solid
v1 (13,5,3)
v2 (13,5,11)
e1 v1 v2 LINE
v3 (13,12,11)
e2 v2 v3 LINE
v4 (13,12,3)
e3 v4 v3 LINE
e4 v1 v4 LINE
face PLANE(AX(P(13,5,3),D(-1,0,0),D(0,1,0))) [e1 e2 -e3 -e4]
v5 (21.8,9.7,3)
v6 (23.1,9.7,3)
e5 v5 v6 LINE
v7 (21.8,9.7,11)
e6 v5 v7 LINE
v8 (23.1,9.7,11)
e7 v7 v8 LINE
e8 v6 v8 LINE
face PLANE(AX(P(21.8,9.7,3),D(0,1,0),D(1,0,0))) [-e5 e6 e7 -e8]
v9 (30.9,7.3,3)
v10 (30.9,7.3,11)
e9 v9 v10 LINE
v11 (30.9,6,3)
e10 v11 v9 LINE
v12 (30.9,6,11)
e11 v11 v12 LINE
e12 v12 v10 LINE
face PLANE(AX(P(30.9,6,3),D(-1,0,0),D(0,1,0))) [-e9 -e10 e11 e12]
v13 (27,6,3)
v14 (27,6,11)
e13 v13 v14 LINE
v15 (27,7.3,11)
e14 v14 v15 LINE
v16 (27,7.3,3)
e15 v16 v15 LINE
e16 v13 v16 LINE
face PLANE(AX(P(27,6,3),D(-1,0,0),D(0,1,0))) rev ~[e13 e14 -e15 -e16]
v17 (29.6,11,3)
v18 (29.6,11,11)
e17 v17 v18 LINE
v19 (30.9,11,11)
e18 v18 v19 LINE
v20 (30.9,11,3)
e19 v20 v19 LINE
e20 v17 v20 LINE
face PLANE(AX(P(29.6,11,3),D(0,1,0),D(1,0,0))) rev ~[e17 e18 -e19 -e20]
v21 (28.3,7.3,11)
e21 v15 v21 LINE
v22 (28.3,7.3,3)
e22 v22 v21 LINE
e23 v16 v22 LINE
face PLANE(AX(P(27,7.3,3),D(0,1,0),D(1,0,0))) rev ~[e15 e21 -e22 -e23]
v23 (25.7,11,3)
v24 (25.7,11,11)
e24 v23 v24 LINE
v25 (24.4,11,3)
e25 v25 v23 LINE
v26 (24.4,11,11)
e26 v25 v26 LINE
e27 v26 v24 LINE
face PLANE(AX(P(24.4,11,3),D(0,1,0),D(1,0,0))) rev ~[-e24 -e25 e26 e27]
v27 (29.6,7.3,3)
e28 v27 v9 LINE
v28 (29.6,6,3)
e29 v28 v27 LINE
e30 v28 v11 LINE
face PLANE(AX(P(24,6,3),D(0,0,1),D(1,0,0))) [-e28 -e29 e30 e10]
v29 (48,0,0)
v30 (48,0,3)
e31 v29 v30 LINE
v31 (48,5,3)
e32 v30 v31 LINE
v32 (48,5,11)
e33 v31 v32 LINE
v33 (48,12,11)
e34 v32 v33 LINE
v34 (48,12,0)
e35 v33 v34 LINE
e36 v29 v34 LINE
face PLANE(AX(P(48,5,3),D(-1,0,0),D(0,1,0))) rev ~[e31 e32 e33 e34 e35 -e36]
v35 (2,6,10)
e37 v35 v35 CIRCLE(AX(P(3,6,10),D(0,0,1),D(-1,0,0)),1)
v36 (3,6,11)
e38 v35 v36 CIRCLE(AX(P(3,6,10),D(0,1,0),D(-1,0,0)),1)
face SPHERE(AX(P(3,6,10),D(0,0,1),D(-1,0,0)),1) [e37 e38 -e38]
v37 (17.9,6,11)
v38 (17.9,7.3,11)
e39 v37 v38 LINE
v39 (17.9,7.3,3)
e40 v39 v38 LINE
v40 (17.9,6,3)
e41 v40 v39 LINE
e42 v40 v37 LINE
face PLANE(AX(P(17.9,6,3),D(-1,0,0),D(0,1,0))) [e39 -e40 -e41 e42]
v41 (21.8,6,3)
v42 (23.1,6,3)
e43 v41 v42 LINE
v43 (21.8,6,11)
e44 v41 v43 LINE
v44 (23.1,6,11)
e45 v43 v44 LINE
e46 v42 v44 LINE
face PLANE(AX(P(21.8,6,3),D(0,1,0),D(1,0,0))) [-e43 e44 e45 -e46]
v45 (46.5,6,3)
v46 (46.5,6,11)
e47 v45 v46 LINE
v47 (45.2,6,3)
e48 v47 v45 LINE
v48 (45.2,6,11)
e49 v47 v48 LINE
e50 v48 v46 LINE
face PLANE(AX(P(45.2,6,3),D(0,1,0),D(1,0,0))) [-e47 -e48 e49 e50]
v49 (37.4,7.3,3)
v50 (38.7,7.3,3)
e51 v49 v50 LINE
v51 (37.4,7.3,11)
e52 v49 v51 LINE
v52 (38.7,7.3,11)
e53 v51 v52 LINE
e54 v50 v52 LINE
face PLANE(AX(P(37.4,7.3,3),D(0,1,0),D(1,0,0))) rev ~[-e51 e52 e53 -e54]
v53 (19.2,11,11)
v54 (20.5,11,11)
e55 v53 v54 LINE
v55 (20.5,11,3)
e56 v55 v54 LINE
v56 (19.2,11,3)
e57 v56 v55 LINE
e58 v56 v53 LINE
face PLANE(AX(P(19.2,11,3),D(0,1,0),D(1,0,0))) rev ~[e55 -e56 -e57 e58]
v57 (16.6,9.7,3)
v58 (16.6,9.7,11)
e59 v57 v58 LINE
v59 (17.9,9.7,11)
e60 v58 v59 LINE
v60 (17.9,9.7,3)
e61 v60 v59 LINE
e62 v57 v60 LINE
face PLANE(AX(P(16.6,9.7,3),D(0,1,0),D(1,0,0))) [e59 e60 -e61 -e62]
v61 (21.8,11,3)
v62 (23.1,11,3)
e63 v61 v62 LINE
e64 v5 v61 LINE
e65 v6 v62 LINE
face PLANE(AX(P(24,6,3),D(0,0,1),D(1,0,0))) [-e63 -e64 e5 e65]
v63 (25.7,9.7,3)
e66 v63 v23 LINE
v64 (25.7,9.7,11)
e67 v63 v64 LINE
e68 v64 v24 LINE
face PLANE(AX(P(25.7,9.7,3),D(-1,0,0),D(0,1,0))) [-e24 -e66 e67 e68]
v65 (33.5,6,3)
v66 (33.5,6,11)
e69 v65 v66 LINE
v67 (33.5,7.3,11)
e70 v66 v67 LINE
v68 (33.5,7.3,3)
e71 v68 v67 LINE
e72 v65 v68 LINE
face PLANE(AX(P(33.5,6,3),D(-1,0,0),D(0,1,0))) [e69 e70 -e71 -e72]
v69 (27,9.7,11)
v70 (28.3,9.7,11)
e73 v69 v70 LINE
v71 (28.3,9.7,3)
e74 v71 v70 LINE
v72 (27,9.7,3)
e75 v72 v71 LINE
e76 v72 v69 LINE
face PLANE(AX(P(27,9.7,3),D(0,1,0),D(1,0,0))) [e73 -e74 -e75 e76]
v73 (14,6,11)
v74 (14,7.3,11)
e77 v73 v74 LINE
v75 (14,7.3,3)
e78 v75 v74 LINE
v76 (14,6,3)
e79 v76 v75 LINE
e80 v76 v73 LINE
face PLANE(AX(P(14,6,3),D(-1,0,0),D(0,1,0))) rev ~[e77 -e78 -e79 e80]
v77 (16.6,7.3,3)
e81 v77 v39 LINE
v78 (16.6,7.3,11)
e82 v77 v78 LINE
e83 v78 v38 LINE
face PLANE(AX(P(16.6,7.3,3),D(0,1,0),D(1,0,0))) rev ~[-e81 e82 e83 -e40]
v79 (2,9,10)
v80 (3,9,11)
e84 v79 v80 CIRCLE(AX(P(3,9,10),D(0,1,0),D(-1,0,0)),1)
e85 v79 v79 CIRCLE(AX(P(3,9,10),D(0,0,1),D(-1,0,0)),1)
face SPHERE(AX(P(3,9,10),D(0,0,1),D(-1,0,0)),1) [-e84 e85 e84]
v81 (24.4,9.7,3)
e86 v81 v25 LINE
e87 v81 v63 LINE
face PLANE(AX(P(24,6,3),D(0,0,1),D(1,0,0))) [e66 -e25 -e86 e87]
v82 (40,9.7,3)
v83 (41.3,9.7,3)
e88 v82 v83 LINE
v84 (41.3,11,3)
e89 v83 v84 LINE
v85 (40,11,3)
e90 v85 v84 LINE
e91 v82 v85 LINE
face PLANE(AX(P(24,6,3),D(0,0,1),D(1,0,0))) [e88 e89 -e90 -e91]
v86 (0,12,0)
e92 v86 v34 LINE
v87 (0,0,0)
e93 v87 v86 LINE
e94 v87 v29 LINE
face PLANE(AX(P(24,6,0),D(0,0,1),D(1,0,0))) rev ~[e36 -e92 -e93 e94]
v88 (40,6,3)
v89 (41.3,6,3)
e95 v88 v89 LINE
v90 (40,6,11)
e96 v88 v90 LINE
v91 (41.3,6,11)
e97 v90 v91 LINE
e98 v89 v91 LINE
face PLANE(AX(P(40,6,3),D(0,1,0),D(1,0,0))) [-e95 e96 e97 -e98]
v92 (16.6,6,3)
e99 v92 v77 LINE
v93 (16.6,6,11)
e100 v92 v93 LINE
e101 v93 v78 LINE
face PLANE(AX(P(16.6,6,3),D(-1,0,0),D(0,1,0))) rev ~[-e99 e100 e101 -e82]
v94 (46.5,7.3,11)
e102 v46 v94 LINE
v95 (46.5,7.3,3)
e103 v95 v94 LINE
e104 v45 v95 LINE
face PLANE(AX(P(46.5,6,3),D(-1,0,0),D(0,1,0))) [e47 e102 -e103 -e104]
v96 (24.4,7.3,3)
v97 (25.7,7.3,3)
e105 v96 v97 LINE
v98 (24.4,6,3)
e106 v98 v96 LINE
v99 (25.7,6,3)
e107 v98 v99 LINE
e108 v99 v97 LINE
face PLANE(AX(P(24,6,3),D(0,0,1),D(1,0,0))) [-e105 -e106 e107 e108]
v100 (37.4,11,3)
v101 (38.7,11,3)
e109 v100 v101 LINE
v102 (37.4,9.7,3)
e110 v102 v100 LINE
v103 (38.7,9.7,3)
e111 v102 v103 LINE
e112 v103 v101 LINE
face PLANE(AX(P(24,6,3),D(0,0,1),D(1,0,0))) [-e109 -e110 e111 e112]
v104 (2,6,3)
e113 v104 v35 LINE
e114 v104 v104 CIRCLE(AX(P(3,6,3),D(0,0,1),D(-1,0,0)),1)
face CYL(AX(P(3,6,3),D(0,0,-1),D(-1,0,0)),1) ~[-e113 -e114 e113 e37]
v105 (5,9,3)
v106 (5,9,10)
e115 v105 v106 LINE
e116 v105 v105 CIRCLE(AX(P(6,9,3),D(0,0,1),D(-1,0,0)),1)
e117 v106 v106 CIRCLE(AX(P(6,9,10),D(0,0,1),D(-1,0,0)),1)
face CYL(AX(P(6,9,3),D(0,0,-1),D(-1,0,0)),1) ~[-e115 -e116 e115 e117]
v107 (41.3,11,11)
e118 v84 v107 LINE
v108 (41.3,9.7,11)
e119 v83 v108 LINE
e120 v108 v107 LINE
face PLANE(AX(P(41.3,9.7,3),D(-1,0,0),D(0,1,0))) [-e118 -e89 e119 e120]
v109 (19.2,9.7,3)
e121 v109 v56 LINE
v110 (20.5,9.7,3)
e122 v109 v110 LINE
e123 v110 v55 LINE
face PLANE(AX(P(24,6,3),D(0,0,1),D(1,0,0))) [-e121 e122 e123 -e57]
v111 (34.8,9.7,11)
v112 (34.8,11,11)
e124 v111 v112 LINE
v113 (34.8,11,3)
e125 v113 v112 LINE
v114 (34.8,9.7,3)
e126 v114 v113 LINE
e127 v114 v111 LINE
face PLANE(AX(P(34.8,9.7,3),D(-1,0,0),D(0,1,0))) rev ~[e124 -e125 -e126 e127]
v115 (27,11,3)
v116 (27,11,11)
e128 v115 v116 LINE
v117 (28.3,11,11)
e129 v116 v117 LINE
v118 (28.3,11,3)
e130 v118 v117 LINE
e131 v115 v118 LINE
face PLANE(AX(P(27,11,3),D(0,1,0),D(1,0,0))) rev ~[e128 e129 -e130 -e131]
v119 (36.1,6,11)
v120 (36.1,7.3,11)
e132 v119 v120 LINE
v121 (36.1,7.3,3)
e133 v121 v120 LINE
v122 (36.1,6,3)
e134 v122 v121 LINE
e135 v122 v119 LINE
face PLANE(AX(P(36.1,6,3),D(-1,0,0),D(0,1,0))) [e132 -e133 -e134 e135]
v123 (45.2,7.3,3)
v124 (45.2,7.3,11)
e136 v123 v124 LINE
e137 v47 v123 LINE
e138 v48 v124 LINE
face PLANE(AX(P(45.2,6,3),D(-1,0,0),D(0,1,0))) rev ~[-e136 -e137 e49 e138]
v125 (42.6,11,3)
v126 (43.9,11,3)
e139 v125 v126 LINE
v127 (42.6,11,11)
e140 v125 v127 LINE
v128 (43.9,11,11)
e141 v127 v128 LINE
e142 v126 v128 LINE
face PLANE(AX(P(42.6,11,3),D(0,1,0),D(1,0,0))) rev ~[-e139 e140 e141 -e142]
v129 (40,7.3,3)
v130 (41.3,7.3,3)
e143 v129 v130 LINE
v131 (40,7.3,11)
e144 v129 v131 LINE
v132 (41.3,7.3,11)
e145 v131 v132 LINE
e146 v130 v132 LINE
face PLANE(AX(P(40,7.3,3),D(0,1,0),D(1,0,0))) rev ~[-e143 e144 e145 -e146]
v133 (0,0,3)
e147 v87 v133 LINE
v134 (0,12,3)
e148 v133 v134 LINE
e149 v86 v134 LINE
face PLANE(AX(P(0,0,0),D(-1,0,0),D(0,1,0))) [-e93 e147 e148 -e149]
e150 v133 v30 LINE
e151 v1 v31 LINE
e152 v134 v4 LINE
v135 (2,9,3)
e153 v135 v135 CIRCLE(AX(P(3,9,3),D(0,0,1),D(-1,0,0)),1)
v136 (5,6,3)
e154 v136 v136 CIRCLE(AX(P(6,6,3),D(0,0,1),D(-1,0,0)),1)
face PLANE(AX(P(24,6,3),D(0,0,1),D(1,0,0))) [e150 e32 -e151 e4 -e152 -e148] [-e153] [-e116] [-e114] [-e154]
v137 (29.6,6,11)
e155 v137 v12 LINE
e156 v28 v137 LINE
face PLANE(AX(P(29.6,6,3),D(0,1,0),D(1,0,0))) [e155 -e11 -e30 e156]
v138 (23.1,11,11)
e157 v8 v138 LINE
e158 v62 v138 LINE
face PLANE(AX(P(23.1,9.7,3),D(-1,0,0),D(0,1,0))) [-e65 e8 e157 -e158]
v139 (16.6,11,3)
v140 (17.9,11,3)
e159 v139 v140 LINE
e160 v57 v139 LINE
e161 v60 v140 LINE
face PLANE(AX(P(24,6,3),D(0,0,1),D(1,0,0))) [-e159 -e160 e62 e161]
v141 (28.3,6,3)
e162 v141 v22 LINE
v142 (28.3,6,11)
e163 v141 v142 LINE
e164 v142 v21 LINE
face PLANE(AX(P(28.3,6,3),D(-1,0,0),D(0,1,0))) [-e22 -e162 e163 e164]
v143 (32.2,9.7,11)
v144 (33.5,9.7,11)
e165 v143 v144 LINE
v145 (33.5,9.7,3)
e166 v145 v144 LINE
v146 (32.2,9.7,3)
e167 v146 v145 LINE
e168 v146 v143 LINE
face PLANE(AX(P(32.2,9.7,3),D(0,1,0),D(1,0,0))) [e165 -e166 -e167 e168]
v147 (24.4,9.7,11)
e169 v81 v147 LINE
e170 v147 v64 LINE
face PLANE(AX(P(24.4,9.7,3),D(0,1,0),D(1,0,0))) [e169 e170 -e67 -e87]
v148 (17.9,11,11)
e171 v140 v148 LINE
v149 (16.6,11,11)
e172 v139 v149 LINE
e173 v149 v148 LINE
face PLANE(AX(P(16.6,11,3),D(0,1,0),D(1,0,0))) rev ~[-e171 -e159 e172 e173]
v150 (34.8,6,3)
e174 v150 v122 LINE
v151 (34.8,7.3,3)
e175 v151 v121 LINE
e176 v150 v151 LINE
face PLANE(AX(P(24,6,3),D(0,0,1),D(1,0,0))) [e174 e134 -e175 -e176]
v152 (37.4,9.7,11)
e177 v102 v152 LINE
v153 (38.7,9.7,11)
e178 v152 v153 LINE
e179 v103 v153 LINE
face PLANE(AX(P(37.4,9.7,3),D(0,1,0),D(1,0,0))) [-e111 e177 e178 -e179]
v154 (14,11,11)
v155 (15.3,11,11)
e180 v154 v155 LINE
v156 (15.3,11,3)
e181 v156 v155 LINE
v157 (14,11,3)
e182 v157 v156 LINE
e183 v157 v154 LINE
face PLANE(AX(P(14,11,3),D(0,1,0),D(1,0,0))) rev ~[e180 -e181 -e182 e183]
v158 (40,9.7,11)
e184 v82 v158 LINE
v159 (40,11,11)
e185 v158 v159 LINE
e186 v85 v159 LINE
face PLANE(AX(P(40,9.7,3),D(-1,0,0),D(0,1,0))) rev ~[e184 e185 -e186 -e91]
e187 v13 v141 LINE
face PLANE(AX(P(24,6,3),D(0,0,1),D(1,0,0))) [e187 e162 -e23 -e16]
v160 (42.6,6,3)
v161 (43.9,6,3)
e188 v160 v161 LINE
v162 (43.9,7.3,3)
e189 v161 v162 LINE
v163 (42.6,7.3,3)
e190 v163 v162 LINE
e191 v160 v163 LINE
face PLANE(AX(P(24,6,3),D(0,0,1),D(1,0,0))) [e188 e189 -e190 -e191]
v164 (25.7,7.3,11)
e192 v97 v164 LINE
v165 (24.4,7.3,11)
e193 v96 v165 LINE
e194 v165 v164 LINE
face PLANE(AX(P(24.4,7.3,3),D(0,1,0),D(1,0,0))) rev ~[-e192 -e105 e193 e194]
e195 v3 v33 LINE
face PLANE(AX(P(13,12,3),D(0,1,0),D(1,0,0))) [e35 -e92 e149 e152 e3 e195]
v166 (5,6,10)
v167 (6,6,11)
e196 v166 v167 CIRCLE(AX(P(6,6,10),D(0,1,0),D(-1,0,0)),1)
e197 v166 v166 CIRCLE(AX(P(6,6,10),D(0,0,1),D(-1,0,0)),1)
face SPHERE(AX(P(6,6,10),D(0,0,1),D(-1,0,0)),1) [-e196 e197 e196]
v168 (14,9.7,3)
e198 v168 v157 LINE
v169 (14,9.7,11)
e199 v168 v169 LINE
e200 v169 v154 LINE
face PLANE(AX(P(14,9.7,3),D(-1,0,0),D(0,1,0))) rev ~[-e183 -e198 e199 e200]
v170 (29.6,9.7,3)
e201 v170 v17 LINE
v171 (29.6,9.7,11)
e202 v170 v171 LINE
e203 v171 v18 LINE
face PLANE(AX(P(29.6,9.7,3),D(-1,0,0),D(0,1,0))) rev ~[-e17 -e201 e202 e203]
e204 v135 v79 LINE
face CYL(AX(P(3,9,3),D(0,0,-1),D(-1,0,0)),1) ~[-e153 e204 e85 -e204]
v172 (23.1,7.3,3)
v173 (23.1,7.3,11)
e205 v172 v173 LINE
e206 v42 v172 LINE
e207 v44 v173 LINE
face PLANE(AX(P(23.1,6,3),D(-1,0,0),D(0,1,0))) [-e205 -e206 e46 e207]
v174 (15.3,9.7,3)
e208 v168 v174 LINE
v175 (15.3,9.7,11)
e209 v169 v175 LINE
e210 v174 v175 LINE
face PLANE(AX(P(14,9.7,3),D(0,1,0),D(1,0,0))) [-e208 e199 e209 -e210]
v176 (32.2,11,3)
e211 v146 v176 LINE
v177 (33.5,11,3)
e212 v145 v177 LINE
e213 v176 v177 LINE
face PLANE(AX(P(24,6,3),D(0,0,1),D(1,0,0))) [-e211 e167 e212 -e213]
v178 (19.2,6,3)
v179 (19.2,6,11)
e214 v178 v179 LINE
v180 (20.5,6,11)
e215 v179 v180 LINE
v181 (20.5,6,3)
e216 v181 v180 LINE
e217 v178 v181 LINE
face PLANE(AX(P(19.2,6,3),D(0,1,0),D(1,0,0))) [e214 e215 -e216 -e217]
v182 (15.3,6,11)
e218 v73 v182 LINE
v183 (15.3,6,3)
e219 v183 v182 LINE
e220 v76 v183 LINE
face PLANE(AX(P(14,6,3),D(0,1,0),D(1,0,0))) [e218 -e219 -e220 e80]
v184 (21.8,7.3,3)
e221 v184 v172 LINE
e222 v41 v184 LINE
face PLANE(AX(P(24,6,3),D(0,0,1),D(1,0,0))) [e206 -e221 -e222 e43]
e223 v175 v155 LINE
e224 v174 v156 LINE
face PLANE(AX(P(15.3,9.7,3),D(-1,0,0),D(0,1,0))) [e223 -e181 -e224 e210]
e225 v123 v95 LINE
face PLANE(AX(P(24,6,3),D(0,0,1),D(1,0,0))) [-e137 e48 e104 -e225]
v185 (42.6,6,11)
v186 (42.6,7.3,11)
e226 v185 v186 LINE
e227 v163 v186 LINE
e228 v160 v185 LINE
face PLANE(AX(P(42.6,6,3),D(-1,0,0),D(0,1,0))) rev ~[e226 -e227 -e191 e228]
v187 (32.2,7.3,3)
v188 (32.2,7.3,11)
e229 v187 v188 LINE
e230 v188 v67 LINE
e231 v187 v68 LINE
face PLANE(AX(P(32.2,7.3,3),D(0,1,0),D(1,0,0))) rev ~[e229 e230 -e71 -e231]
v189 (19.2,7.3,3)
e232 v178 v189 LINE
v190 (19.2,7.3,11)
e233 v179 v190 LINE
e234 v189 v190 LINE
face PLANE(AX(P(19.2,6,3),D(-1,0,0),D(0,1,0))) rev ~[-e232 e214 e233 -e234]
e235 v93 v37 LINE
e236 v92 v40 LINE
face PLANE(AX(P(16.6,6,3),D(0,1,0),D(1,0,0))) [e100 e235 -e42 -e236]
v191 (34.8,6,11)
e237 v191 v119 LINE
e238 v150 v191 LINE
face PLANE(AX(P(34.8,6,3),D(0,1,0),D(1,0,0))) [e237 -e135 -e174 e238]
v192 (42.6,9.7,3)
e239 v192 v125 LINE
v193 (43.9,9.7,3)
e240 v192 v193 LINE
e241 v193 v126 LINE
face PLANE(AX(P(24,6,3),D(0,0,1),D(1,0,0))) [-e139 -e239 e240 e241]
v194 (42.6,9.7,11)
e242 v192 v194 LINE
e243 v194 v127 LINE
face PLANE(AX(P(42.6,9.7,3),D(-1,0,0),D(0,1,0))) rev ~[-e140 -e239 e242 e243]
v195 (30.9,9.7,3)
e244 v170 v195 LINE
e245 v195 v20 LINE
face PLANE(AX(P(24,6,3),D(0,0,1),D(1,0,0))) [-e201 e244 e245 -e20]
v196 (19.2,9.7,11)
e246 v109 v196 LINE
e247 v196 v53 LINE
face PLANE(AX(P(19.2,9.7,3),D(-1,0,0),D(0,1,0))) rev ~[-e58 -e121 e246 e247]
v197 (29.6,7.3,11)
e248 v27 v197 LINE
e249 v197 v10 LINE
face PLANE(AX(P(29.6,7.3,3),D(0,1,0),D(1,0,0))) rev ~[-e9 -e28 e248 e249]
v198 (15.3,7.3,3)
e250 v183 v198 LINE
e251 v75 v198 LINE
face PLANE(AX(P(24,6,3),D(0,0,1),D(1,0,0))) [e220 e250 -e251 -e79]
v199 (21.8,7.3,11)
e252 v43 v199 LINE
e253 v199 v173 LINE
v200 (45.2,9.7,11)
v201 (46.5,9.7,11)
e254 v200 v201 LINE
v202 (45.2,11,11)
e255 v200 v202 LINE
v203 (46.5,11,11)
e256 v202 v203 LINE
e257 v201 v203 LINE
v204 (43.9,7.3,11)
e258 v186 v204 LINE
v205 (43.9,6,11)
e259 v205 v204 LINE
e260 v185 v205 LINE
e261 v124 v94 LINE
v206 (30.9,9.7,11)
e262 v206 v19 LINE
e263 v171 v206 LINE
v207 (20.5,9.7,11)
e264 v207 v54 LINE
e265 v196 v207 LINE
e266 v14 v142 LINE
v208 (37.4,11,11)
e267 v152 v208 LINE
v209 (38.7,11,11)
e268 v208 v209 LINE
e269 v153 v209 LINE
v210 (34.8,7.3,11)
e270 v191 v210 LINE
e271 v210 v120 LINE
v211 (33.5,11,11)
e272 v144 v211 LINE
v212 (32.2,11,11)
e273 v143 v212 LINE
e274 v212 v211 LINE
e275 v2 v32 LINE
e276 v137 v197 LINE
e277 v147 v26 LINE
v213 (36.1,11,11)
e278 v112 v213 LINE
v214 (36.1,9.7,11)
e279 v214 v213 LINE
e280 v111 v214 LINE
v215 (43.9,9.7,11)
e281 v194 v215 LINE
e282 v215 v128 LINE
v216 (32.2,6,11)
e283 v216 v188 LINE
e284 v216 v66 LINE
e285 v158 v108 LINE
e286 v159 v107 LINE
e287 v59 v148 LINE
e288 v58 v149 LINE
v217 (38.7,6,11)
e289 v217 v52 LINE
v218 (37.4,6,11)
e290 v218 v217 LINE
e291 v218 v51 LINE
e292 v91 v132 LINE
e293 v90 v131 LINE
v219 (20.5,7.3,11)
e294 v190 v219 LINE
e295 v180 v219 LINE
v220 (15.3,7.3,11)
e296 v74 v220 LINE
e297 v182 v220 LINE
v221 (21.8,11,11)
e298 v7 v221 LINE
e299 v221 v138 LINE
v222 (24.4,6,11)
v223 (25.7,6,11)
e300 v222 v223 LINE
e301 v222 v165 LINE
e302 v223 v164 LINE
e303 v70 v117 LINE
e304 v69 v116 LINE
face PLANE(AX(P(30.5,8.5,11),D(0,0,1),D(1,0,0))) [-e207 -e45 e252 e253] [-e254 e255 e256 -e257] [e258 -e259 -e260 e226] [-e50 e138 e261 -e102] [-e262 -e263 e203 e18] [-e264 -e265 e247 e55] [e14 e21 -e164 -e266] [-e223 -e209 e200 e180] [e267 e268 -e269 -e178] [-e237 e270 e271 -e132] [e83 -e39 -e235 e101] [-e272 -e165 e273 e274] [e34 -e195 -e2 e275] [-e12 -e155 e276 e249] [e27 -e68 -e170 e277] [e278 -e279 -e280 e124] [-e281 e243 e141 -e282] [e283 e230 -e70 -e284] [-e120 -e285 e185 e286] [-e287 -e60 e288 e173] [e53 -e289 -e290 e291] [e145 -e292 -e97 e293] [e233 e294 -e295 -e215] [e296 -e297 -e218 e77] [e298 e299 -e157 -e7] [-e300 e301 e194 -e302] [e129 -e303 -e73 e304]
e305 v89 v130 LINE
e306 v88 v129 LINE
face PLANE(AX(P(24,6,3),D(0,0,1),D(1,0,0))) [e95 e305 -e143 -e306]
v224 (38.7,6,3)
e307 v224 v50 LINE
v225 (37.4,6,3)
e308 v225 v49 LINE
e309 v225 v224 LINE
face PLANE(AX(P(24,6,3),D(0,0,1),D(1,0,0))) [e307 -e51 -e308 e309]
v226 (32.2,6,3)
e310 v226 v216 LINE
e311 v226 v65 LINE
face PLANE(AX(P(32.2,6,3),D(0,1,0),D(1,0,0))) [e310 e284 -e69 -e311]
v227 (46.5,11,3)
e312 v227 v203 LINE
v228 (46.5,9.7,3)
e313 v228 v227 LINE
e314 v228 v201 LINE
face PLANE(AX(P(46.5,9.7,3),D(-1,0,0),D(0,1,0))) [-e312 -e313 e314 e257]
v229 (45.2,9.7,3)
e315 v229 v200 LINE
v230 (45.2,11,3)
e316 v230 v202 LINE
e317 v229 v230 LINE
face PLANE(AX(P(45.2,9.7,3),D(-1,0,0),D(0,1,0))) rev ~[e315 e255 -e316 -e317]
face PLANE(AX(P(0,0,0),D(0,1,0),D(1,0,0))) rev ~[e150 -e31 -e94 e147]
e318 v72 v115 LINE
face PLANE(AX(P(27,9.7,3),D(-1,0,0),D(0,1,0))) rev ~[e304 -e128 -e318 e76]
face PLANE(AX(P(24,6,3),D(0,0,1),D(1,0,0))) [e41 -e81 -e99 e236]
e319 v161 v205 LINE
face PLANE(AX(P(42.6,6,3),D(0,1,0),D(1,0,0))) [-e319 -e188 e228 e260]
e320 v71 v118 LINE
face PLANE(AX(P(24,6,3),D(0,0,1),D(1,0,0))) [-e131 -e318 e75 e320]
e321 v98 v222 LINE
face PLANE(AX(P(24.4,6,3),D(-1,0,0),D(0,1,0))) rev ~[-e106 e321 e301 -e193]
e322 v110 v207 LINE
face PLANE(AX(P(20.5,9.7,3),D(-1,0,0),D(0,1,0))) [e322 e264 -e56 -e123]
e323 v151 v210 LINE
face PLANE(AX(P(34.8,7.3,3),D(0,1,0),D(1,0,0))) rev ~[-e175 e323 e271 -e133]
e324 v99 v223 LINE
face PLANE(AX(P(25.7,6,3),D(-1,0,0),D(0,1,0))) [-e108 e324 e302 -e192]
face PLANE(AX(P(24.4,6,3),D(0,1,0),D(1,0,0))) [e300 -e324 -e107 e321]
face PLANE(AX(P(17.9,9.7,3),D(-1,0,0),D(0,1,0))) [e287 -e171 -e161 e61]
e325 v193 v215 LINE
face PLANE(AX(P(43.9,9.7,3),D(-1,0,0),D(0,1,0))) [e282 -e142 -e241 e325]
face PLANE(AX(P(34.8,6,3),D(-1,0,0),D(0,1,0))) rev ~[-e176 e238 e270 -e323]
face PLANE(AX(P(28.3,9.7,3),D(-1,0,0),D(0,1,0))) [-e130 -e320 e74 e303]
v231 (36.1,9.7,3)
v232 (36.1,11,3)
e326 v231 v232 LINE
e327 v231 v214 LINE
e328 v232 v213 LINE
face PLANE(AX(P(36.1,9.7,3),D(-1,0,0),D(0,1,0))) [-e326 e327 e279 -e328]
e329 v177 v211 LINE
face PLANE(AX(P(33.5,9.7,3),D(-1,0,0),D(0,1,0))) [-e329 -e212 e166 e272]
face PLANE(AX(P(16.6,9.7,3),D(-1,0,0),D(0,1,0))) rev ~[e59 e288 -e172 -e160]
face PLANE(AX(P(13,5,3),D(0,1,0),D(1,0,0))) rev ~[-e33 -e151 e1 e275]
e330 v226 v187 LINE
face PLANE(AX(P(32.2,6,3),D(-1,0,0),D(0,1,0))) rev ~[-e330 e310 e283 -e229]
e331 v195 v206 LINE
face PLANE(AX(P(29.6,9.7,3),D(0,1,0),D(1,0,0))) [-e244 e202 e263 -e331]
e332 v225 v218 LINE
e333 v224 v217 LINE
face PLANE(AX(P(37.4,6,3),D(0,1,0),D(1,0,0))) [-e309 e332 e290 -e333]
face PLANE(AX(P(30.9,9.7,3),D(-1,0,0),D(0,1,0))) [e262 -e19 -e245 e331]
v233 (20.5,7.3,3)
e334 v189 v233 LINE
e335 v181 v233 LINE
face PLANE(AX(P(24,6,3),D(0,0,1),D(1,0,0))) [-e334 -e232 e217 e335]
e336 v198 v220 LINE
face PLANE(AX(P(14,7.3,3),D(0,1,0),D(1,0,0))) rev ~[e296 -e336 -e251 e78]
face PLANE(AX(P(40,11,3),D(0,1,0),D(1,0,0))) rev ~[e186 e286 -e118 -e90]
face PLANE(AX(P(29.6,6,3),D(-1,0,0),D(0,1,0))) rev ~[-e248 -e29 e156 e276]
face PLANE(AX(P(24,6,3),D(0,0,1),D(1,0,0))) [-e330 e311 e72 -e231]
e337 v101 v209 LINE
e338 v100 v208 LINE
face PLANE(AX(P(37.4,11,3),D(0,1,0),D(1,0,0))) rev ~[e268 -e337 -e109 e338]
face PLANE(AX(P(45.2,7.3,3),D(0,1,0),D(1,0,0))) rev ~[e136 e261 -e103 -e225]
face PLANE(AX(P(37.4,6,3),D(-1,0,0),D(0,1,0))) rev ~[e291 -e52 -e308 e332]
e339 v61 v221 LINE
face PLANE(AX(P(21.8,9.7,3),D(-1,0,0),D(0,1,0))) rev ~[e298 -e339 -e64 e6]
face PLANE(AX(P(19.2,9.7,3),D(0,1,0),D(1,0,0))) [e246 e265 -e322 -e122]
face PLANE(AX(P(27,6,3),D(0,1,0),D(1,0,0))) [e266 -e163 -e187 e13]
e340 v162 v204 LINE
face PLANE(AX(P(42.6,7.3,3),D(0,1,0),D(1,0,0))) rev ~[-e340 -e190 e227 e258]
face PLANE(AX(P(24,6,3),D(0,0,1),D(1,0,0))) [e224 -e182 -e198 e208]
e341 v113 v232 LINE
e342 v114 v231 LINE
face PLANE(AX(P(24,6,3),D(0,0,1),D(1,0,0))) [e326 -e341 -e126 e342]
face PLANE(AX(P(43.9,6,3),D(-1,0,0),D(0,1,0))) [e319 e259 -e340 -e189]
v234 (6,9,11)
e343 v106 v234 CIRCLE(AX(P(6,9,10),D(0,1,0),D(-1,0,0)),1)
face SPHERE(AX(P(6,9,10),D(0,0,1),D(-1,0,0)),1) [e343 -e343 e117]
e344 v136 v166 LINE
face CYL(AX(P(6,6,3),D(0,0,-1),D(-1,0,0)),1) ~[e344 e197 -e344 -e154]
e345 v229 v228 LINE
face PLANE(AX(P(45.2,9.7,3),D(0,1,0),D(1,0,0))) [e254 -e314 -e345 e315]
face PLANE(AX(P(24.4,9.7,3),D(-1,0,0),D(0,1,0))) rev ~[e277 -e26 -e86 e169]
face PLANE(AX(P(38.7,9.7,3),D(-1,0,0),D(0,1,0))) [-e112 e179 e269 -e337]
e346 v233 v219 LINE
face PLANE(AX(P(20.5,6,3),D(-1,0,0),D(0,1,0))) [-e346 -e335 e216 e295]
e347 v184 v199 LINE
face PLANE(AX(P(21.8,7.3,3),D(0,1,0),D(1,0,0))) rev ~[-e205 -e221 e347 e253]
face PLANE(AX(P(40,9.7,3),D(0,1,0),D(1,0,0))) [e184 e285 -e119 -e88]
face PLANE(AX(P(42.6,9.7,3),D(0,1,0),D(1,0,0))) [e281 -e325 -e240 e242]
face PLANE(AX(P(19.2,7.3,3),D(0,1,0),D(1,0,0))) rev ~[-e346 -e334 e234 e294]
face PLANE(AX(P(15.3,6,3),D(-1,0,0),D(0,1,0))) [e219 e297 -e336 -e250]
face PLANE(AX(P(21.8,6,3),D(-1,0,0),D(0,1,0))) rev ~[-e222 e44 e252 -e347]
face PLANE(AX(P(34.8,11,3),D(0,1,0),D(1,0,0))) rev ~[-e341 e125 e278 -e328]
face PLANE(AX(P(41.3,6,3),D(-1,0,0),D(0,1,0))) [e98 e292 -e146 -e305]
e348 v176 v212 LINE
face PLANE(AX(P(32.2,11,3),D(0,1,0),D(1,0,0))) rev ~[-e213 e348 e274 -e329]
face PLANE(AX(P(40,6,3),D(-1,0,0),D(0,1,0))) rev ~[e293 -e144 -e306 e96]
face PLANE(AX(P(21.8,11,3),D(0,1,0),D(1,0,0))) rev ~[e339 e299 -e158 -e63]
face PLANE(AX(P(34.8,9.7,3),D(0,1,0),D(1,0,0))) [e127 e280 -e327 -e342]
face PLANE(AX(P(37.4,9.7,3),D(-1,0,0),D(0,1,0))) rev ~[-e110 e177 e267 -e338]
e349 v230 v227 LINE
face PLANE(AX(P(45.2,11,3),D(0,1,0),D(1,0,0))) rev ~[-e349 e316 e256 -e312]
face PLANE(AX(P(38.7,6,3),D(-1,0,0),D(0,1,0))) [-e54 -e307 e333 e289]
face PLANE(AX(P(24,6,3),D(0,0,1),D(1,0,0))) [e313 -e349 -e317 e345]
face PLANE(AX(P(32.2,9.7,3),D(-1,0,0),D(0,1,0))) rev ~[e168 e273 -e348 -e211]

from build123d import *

# Parameters (mm, degrees)
SKETCH1_W           = 48
SKETCH1_H           = 12
BOSS_EXTRUDE1_DEPTH = 3
SKETCH2_W           = 35
SKETCH2_H           = 7
SKETCH2_W_2         = 1.3
SKETCH2_H_2         = 1.3
BOSS_EXTRUDE2_DEPTH = 8
SKETCH3_R           = 1
BOSS_EXTRUDE3_DEPTH = 8
FILLET1_R           = 1


with BuildPart() as part:
    # Sketch1 → Boss-Extrude1 (new body)
    with BuildSketch(Plane.XY):
        with Locations((24, 6)):
            Rectangle(SKETCH1_W, SKETCH1_H)
    extrude(amount=BOSS_EXTRUDE1_DEPTH)

    # Sketch2 → Boss-Extrude2 (add)
    with BuildSketch(Plane.XY.offset(3)):
        with Locations((30.5, 8.5)):
            Rectangle(SKETCH2_W, SKETCH2_H)
        with Locations((17.25, 10.35)):
            Rectangle(SKETCH2_W_2, SKETCH2_H_2, mode=Mode.SUBTRACT)
        with Locations((14.65, 10.35)):
            Rectangle(SKETCH2_W_2, SKETCH2_H_2, mode=Mode.SUBTRACT)
        with Locations((14.65, 6.65)):
            Rectangle(SKETCH2_W_2, SKETCH2_H_2, mode=Mode.SUBTRACT)
        with Locations((17.25, 6.65)):
            Rectangle(SKETCH2_W_2, SKETCH2_H_2, mode=Mode.SUBTRACT)
        with Locations((19.85, 10.35)):
            Rectangle(SKETCH2_W_2, SKETCH2_H_2, mode=Mode.SUBTRACT)
        with Locations((19.85, 6.65)):
            Rectangle(SKETCH2_W_2, SKETCH2_H_2, mode=Mode.SUBTRACT)
        with Locations((22.45, 10.35)):
            Rectangle(SKETCH2_W_2, SKETCH2_H_2, mode=Mode.SUBTRACT)
        with Locations((22.45, 6.65)):
            Rectangle(SKETCH2_W_2, SKETCH2_H_2, mode=Mode.SUBTRACT)
        with Locations((25.05, 10.35)):
            Rectangle(SKETCH2_W_2, SKETCH2_H_2, mode=Mode.SUBTRACT)
        with Locations((25.05, 6.65)):
            Rectangle(SKETCH2_W_2, SKETCH2_H_2, mode=Mode.SUBTRACT)
        with Locations((27.65, 10.35)):
            Rectangle(SKETCH2_W_2, SKETCH2_H_2, mode=Mode.SUBTRACT)
        with Locations((27.65, 6.65)):
            Rectangle(SKETCH2_W_2, SKETCH2_H_2, mode=Mode.SUBTRACT)
        with Locations((30.25, 10.35)):
            Rectangle(SKETCH2_W_2, SKETCH2_H_2, mode=Mode.SUBTRACT)
        with Locations((30.25, 6.65)):
            Rectangle(SKETCH2_W_2, SKETCH2_H_2, mode=Mode.SUBTRACT)
        with Locations((32.85, 10.35)):
            Rectangle(SKETCH2_W_2, SKETCH2_H_2, mode=Mode.SUBTRACT)
        with Locations((32.85, 6.65)):
            Rectangle(SKETCH2_W_2, SKETCH2_H_2, mode=Mode.SUBTRACT)
        with Locations((35.45, 10.35)):
            Rectangle(SKETCH2_W_2, SKETCH2_H_2, mode=Mode.SUBTRACT)
        with Locations((35.45, 6.65)):
            Rectangle(SKETCH2_W_2, SKETCH2_H_2, mode=Mode.SUBTRACT)
        with Locations((38.05, 10.35)):
            Rectangle(SKETCH2_W_2, SKETCH2_H_2, mode=Mode.SUBTRACT)
        with Locations((38.05, 6.65)):
            Rectangle(SKETCH2_W_2, SKETCH2_H_2, mode=Mode.SUBTRACT)
        with Locations((40.65, 10.35)):
            Rectangle(SKETCH2_W_2, SKETCH2_H_2, mode=Mode.SUBTRACT)
        with Locations((40.65, 6.65)):
            Rectangle(SKETCH2_W_2, SKETCH2_H_2, mode=Mode.SUBTRACT)
        with Locations((43.25, 10.35)):
            Rectangle(SKETCH2_W_2, SKETCH2_H_2, mode=Mode.SUBTRACT)
        with Locations((43.25, 6.65)):
            Rectangle(SKETCH2_W_2, SKETCH2_H_2, mode=Mode.SUBTRACT)
        with Locations((45.85, 10.35)):
            Rectangle(SKETCH2_W_2, SKETCH2_H_2, mode=Mode.SUBTRACT)
        with Locations((45.85, 6.65)):
            Rectangle(SKETCH2_W_2, SKETCH2_H_2, mode=Mode.SUBTRACT)
    extrude(amount=BOSS_EXTRUDE2_DEPTH)

    # Sketch3 → Boss-Extrude3 (add)
    with BuildSketch(Plane.XY.offset(3)):
        with Locations(Location((3, 9, 0), (0, 0, 180))):
            Circle(SKETCH3_R)
        with Locations(Location((3, 6, 0), (0, 0, 180))):
            Circle(SKETCH3_R)
        with Locations(Location((6, 9, 0), (0, 0, 180))):
            Circle(SKETCH3_R)
        with Locations(Location((6, 6, 0), (0, 0, 180))):
            Circle(SKETCH3_R)
    extrude(amount=BOSS_EXTRUDE3_DEPTH)

    # Fillet1
    fillet1_edges = [part.edges().sort_by_distance(p)[0] for p in [
        (4, 9, 11),
        (4, 6, 11),
        (7, 9, 11),
        (7, 6, 11),
    ]]
    fillet(fillet1_edges, radius=FILLET1_R)


solid = part.part
